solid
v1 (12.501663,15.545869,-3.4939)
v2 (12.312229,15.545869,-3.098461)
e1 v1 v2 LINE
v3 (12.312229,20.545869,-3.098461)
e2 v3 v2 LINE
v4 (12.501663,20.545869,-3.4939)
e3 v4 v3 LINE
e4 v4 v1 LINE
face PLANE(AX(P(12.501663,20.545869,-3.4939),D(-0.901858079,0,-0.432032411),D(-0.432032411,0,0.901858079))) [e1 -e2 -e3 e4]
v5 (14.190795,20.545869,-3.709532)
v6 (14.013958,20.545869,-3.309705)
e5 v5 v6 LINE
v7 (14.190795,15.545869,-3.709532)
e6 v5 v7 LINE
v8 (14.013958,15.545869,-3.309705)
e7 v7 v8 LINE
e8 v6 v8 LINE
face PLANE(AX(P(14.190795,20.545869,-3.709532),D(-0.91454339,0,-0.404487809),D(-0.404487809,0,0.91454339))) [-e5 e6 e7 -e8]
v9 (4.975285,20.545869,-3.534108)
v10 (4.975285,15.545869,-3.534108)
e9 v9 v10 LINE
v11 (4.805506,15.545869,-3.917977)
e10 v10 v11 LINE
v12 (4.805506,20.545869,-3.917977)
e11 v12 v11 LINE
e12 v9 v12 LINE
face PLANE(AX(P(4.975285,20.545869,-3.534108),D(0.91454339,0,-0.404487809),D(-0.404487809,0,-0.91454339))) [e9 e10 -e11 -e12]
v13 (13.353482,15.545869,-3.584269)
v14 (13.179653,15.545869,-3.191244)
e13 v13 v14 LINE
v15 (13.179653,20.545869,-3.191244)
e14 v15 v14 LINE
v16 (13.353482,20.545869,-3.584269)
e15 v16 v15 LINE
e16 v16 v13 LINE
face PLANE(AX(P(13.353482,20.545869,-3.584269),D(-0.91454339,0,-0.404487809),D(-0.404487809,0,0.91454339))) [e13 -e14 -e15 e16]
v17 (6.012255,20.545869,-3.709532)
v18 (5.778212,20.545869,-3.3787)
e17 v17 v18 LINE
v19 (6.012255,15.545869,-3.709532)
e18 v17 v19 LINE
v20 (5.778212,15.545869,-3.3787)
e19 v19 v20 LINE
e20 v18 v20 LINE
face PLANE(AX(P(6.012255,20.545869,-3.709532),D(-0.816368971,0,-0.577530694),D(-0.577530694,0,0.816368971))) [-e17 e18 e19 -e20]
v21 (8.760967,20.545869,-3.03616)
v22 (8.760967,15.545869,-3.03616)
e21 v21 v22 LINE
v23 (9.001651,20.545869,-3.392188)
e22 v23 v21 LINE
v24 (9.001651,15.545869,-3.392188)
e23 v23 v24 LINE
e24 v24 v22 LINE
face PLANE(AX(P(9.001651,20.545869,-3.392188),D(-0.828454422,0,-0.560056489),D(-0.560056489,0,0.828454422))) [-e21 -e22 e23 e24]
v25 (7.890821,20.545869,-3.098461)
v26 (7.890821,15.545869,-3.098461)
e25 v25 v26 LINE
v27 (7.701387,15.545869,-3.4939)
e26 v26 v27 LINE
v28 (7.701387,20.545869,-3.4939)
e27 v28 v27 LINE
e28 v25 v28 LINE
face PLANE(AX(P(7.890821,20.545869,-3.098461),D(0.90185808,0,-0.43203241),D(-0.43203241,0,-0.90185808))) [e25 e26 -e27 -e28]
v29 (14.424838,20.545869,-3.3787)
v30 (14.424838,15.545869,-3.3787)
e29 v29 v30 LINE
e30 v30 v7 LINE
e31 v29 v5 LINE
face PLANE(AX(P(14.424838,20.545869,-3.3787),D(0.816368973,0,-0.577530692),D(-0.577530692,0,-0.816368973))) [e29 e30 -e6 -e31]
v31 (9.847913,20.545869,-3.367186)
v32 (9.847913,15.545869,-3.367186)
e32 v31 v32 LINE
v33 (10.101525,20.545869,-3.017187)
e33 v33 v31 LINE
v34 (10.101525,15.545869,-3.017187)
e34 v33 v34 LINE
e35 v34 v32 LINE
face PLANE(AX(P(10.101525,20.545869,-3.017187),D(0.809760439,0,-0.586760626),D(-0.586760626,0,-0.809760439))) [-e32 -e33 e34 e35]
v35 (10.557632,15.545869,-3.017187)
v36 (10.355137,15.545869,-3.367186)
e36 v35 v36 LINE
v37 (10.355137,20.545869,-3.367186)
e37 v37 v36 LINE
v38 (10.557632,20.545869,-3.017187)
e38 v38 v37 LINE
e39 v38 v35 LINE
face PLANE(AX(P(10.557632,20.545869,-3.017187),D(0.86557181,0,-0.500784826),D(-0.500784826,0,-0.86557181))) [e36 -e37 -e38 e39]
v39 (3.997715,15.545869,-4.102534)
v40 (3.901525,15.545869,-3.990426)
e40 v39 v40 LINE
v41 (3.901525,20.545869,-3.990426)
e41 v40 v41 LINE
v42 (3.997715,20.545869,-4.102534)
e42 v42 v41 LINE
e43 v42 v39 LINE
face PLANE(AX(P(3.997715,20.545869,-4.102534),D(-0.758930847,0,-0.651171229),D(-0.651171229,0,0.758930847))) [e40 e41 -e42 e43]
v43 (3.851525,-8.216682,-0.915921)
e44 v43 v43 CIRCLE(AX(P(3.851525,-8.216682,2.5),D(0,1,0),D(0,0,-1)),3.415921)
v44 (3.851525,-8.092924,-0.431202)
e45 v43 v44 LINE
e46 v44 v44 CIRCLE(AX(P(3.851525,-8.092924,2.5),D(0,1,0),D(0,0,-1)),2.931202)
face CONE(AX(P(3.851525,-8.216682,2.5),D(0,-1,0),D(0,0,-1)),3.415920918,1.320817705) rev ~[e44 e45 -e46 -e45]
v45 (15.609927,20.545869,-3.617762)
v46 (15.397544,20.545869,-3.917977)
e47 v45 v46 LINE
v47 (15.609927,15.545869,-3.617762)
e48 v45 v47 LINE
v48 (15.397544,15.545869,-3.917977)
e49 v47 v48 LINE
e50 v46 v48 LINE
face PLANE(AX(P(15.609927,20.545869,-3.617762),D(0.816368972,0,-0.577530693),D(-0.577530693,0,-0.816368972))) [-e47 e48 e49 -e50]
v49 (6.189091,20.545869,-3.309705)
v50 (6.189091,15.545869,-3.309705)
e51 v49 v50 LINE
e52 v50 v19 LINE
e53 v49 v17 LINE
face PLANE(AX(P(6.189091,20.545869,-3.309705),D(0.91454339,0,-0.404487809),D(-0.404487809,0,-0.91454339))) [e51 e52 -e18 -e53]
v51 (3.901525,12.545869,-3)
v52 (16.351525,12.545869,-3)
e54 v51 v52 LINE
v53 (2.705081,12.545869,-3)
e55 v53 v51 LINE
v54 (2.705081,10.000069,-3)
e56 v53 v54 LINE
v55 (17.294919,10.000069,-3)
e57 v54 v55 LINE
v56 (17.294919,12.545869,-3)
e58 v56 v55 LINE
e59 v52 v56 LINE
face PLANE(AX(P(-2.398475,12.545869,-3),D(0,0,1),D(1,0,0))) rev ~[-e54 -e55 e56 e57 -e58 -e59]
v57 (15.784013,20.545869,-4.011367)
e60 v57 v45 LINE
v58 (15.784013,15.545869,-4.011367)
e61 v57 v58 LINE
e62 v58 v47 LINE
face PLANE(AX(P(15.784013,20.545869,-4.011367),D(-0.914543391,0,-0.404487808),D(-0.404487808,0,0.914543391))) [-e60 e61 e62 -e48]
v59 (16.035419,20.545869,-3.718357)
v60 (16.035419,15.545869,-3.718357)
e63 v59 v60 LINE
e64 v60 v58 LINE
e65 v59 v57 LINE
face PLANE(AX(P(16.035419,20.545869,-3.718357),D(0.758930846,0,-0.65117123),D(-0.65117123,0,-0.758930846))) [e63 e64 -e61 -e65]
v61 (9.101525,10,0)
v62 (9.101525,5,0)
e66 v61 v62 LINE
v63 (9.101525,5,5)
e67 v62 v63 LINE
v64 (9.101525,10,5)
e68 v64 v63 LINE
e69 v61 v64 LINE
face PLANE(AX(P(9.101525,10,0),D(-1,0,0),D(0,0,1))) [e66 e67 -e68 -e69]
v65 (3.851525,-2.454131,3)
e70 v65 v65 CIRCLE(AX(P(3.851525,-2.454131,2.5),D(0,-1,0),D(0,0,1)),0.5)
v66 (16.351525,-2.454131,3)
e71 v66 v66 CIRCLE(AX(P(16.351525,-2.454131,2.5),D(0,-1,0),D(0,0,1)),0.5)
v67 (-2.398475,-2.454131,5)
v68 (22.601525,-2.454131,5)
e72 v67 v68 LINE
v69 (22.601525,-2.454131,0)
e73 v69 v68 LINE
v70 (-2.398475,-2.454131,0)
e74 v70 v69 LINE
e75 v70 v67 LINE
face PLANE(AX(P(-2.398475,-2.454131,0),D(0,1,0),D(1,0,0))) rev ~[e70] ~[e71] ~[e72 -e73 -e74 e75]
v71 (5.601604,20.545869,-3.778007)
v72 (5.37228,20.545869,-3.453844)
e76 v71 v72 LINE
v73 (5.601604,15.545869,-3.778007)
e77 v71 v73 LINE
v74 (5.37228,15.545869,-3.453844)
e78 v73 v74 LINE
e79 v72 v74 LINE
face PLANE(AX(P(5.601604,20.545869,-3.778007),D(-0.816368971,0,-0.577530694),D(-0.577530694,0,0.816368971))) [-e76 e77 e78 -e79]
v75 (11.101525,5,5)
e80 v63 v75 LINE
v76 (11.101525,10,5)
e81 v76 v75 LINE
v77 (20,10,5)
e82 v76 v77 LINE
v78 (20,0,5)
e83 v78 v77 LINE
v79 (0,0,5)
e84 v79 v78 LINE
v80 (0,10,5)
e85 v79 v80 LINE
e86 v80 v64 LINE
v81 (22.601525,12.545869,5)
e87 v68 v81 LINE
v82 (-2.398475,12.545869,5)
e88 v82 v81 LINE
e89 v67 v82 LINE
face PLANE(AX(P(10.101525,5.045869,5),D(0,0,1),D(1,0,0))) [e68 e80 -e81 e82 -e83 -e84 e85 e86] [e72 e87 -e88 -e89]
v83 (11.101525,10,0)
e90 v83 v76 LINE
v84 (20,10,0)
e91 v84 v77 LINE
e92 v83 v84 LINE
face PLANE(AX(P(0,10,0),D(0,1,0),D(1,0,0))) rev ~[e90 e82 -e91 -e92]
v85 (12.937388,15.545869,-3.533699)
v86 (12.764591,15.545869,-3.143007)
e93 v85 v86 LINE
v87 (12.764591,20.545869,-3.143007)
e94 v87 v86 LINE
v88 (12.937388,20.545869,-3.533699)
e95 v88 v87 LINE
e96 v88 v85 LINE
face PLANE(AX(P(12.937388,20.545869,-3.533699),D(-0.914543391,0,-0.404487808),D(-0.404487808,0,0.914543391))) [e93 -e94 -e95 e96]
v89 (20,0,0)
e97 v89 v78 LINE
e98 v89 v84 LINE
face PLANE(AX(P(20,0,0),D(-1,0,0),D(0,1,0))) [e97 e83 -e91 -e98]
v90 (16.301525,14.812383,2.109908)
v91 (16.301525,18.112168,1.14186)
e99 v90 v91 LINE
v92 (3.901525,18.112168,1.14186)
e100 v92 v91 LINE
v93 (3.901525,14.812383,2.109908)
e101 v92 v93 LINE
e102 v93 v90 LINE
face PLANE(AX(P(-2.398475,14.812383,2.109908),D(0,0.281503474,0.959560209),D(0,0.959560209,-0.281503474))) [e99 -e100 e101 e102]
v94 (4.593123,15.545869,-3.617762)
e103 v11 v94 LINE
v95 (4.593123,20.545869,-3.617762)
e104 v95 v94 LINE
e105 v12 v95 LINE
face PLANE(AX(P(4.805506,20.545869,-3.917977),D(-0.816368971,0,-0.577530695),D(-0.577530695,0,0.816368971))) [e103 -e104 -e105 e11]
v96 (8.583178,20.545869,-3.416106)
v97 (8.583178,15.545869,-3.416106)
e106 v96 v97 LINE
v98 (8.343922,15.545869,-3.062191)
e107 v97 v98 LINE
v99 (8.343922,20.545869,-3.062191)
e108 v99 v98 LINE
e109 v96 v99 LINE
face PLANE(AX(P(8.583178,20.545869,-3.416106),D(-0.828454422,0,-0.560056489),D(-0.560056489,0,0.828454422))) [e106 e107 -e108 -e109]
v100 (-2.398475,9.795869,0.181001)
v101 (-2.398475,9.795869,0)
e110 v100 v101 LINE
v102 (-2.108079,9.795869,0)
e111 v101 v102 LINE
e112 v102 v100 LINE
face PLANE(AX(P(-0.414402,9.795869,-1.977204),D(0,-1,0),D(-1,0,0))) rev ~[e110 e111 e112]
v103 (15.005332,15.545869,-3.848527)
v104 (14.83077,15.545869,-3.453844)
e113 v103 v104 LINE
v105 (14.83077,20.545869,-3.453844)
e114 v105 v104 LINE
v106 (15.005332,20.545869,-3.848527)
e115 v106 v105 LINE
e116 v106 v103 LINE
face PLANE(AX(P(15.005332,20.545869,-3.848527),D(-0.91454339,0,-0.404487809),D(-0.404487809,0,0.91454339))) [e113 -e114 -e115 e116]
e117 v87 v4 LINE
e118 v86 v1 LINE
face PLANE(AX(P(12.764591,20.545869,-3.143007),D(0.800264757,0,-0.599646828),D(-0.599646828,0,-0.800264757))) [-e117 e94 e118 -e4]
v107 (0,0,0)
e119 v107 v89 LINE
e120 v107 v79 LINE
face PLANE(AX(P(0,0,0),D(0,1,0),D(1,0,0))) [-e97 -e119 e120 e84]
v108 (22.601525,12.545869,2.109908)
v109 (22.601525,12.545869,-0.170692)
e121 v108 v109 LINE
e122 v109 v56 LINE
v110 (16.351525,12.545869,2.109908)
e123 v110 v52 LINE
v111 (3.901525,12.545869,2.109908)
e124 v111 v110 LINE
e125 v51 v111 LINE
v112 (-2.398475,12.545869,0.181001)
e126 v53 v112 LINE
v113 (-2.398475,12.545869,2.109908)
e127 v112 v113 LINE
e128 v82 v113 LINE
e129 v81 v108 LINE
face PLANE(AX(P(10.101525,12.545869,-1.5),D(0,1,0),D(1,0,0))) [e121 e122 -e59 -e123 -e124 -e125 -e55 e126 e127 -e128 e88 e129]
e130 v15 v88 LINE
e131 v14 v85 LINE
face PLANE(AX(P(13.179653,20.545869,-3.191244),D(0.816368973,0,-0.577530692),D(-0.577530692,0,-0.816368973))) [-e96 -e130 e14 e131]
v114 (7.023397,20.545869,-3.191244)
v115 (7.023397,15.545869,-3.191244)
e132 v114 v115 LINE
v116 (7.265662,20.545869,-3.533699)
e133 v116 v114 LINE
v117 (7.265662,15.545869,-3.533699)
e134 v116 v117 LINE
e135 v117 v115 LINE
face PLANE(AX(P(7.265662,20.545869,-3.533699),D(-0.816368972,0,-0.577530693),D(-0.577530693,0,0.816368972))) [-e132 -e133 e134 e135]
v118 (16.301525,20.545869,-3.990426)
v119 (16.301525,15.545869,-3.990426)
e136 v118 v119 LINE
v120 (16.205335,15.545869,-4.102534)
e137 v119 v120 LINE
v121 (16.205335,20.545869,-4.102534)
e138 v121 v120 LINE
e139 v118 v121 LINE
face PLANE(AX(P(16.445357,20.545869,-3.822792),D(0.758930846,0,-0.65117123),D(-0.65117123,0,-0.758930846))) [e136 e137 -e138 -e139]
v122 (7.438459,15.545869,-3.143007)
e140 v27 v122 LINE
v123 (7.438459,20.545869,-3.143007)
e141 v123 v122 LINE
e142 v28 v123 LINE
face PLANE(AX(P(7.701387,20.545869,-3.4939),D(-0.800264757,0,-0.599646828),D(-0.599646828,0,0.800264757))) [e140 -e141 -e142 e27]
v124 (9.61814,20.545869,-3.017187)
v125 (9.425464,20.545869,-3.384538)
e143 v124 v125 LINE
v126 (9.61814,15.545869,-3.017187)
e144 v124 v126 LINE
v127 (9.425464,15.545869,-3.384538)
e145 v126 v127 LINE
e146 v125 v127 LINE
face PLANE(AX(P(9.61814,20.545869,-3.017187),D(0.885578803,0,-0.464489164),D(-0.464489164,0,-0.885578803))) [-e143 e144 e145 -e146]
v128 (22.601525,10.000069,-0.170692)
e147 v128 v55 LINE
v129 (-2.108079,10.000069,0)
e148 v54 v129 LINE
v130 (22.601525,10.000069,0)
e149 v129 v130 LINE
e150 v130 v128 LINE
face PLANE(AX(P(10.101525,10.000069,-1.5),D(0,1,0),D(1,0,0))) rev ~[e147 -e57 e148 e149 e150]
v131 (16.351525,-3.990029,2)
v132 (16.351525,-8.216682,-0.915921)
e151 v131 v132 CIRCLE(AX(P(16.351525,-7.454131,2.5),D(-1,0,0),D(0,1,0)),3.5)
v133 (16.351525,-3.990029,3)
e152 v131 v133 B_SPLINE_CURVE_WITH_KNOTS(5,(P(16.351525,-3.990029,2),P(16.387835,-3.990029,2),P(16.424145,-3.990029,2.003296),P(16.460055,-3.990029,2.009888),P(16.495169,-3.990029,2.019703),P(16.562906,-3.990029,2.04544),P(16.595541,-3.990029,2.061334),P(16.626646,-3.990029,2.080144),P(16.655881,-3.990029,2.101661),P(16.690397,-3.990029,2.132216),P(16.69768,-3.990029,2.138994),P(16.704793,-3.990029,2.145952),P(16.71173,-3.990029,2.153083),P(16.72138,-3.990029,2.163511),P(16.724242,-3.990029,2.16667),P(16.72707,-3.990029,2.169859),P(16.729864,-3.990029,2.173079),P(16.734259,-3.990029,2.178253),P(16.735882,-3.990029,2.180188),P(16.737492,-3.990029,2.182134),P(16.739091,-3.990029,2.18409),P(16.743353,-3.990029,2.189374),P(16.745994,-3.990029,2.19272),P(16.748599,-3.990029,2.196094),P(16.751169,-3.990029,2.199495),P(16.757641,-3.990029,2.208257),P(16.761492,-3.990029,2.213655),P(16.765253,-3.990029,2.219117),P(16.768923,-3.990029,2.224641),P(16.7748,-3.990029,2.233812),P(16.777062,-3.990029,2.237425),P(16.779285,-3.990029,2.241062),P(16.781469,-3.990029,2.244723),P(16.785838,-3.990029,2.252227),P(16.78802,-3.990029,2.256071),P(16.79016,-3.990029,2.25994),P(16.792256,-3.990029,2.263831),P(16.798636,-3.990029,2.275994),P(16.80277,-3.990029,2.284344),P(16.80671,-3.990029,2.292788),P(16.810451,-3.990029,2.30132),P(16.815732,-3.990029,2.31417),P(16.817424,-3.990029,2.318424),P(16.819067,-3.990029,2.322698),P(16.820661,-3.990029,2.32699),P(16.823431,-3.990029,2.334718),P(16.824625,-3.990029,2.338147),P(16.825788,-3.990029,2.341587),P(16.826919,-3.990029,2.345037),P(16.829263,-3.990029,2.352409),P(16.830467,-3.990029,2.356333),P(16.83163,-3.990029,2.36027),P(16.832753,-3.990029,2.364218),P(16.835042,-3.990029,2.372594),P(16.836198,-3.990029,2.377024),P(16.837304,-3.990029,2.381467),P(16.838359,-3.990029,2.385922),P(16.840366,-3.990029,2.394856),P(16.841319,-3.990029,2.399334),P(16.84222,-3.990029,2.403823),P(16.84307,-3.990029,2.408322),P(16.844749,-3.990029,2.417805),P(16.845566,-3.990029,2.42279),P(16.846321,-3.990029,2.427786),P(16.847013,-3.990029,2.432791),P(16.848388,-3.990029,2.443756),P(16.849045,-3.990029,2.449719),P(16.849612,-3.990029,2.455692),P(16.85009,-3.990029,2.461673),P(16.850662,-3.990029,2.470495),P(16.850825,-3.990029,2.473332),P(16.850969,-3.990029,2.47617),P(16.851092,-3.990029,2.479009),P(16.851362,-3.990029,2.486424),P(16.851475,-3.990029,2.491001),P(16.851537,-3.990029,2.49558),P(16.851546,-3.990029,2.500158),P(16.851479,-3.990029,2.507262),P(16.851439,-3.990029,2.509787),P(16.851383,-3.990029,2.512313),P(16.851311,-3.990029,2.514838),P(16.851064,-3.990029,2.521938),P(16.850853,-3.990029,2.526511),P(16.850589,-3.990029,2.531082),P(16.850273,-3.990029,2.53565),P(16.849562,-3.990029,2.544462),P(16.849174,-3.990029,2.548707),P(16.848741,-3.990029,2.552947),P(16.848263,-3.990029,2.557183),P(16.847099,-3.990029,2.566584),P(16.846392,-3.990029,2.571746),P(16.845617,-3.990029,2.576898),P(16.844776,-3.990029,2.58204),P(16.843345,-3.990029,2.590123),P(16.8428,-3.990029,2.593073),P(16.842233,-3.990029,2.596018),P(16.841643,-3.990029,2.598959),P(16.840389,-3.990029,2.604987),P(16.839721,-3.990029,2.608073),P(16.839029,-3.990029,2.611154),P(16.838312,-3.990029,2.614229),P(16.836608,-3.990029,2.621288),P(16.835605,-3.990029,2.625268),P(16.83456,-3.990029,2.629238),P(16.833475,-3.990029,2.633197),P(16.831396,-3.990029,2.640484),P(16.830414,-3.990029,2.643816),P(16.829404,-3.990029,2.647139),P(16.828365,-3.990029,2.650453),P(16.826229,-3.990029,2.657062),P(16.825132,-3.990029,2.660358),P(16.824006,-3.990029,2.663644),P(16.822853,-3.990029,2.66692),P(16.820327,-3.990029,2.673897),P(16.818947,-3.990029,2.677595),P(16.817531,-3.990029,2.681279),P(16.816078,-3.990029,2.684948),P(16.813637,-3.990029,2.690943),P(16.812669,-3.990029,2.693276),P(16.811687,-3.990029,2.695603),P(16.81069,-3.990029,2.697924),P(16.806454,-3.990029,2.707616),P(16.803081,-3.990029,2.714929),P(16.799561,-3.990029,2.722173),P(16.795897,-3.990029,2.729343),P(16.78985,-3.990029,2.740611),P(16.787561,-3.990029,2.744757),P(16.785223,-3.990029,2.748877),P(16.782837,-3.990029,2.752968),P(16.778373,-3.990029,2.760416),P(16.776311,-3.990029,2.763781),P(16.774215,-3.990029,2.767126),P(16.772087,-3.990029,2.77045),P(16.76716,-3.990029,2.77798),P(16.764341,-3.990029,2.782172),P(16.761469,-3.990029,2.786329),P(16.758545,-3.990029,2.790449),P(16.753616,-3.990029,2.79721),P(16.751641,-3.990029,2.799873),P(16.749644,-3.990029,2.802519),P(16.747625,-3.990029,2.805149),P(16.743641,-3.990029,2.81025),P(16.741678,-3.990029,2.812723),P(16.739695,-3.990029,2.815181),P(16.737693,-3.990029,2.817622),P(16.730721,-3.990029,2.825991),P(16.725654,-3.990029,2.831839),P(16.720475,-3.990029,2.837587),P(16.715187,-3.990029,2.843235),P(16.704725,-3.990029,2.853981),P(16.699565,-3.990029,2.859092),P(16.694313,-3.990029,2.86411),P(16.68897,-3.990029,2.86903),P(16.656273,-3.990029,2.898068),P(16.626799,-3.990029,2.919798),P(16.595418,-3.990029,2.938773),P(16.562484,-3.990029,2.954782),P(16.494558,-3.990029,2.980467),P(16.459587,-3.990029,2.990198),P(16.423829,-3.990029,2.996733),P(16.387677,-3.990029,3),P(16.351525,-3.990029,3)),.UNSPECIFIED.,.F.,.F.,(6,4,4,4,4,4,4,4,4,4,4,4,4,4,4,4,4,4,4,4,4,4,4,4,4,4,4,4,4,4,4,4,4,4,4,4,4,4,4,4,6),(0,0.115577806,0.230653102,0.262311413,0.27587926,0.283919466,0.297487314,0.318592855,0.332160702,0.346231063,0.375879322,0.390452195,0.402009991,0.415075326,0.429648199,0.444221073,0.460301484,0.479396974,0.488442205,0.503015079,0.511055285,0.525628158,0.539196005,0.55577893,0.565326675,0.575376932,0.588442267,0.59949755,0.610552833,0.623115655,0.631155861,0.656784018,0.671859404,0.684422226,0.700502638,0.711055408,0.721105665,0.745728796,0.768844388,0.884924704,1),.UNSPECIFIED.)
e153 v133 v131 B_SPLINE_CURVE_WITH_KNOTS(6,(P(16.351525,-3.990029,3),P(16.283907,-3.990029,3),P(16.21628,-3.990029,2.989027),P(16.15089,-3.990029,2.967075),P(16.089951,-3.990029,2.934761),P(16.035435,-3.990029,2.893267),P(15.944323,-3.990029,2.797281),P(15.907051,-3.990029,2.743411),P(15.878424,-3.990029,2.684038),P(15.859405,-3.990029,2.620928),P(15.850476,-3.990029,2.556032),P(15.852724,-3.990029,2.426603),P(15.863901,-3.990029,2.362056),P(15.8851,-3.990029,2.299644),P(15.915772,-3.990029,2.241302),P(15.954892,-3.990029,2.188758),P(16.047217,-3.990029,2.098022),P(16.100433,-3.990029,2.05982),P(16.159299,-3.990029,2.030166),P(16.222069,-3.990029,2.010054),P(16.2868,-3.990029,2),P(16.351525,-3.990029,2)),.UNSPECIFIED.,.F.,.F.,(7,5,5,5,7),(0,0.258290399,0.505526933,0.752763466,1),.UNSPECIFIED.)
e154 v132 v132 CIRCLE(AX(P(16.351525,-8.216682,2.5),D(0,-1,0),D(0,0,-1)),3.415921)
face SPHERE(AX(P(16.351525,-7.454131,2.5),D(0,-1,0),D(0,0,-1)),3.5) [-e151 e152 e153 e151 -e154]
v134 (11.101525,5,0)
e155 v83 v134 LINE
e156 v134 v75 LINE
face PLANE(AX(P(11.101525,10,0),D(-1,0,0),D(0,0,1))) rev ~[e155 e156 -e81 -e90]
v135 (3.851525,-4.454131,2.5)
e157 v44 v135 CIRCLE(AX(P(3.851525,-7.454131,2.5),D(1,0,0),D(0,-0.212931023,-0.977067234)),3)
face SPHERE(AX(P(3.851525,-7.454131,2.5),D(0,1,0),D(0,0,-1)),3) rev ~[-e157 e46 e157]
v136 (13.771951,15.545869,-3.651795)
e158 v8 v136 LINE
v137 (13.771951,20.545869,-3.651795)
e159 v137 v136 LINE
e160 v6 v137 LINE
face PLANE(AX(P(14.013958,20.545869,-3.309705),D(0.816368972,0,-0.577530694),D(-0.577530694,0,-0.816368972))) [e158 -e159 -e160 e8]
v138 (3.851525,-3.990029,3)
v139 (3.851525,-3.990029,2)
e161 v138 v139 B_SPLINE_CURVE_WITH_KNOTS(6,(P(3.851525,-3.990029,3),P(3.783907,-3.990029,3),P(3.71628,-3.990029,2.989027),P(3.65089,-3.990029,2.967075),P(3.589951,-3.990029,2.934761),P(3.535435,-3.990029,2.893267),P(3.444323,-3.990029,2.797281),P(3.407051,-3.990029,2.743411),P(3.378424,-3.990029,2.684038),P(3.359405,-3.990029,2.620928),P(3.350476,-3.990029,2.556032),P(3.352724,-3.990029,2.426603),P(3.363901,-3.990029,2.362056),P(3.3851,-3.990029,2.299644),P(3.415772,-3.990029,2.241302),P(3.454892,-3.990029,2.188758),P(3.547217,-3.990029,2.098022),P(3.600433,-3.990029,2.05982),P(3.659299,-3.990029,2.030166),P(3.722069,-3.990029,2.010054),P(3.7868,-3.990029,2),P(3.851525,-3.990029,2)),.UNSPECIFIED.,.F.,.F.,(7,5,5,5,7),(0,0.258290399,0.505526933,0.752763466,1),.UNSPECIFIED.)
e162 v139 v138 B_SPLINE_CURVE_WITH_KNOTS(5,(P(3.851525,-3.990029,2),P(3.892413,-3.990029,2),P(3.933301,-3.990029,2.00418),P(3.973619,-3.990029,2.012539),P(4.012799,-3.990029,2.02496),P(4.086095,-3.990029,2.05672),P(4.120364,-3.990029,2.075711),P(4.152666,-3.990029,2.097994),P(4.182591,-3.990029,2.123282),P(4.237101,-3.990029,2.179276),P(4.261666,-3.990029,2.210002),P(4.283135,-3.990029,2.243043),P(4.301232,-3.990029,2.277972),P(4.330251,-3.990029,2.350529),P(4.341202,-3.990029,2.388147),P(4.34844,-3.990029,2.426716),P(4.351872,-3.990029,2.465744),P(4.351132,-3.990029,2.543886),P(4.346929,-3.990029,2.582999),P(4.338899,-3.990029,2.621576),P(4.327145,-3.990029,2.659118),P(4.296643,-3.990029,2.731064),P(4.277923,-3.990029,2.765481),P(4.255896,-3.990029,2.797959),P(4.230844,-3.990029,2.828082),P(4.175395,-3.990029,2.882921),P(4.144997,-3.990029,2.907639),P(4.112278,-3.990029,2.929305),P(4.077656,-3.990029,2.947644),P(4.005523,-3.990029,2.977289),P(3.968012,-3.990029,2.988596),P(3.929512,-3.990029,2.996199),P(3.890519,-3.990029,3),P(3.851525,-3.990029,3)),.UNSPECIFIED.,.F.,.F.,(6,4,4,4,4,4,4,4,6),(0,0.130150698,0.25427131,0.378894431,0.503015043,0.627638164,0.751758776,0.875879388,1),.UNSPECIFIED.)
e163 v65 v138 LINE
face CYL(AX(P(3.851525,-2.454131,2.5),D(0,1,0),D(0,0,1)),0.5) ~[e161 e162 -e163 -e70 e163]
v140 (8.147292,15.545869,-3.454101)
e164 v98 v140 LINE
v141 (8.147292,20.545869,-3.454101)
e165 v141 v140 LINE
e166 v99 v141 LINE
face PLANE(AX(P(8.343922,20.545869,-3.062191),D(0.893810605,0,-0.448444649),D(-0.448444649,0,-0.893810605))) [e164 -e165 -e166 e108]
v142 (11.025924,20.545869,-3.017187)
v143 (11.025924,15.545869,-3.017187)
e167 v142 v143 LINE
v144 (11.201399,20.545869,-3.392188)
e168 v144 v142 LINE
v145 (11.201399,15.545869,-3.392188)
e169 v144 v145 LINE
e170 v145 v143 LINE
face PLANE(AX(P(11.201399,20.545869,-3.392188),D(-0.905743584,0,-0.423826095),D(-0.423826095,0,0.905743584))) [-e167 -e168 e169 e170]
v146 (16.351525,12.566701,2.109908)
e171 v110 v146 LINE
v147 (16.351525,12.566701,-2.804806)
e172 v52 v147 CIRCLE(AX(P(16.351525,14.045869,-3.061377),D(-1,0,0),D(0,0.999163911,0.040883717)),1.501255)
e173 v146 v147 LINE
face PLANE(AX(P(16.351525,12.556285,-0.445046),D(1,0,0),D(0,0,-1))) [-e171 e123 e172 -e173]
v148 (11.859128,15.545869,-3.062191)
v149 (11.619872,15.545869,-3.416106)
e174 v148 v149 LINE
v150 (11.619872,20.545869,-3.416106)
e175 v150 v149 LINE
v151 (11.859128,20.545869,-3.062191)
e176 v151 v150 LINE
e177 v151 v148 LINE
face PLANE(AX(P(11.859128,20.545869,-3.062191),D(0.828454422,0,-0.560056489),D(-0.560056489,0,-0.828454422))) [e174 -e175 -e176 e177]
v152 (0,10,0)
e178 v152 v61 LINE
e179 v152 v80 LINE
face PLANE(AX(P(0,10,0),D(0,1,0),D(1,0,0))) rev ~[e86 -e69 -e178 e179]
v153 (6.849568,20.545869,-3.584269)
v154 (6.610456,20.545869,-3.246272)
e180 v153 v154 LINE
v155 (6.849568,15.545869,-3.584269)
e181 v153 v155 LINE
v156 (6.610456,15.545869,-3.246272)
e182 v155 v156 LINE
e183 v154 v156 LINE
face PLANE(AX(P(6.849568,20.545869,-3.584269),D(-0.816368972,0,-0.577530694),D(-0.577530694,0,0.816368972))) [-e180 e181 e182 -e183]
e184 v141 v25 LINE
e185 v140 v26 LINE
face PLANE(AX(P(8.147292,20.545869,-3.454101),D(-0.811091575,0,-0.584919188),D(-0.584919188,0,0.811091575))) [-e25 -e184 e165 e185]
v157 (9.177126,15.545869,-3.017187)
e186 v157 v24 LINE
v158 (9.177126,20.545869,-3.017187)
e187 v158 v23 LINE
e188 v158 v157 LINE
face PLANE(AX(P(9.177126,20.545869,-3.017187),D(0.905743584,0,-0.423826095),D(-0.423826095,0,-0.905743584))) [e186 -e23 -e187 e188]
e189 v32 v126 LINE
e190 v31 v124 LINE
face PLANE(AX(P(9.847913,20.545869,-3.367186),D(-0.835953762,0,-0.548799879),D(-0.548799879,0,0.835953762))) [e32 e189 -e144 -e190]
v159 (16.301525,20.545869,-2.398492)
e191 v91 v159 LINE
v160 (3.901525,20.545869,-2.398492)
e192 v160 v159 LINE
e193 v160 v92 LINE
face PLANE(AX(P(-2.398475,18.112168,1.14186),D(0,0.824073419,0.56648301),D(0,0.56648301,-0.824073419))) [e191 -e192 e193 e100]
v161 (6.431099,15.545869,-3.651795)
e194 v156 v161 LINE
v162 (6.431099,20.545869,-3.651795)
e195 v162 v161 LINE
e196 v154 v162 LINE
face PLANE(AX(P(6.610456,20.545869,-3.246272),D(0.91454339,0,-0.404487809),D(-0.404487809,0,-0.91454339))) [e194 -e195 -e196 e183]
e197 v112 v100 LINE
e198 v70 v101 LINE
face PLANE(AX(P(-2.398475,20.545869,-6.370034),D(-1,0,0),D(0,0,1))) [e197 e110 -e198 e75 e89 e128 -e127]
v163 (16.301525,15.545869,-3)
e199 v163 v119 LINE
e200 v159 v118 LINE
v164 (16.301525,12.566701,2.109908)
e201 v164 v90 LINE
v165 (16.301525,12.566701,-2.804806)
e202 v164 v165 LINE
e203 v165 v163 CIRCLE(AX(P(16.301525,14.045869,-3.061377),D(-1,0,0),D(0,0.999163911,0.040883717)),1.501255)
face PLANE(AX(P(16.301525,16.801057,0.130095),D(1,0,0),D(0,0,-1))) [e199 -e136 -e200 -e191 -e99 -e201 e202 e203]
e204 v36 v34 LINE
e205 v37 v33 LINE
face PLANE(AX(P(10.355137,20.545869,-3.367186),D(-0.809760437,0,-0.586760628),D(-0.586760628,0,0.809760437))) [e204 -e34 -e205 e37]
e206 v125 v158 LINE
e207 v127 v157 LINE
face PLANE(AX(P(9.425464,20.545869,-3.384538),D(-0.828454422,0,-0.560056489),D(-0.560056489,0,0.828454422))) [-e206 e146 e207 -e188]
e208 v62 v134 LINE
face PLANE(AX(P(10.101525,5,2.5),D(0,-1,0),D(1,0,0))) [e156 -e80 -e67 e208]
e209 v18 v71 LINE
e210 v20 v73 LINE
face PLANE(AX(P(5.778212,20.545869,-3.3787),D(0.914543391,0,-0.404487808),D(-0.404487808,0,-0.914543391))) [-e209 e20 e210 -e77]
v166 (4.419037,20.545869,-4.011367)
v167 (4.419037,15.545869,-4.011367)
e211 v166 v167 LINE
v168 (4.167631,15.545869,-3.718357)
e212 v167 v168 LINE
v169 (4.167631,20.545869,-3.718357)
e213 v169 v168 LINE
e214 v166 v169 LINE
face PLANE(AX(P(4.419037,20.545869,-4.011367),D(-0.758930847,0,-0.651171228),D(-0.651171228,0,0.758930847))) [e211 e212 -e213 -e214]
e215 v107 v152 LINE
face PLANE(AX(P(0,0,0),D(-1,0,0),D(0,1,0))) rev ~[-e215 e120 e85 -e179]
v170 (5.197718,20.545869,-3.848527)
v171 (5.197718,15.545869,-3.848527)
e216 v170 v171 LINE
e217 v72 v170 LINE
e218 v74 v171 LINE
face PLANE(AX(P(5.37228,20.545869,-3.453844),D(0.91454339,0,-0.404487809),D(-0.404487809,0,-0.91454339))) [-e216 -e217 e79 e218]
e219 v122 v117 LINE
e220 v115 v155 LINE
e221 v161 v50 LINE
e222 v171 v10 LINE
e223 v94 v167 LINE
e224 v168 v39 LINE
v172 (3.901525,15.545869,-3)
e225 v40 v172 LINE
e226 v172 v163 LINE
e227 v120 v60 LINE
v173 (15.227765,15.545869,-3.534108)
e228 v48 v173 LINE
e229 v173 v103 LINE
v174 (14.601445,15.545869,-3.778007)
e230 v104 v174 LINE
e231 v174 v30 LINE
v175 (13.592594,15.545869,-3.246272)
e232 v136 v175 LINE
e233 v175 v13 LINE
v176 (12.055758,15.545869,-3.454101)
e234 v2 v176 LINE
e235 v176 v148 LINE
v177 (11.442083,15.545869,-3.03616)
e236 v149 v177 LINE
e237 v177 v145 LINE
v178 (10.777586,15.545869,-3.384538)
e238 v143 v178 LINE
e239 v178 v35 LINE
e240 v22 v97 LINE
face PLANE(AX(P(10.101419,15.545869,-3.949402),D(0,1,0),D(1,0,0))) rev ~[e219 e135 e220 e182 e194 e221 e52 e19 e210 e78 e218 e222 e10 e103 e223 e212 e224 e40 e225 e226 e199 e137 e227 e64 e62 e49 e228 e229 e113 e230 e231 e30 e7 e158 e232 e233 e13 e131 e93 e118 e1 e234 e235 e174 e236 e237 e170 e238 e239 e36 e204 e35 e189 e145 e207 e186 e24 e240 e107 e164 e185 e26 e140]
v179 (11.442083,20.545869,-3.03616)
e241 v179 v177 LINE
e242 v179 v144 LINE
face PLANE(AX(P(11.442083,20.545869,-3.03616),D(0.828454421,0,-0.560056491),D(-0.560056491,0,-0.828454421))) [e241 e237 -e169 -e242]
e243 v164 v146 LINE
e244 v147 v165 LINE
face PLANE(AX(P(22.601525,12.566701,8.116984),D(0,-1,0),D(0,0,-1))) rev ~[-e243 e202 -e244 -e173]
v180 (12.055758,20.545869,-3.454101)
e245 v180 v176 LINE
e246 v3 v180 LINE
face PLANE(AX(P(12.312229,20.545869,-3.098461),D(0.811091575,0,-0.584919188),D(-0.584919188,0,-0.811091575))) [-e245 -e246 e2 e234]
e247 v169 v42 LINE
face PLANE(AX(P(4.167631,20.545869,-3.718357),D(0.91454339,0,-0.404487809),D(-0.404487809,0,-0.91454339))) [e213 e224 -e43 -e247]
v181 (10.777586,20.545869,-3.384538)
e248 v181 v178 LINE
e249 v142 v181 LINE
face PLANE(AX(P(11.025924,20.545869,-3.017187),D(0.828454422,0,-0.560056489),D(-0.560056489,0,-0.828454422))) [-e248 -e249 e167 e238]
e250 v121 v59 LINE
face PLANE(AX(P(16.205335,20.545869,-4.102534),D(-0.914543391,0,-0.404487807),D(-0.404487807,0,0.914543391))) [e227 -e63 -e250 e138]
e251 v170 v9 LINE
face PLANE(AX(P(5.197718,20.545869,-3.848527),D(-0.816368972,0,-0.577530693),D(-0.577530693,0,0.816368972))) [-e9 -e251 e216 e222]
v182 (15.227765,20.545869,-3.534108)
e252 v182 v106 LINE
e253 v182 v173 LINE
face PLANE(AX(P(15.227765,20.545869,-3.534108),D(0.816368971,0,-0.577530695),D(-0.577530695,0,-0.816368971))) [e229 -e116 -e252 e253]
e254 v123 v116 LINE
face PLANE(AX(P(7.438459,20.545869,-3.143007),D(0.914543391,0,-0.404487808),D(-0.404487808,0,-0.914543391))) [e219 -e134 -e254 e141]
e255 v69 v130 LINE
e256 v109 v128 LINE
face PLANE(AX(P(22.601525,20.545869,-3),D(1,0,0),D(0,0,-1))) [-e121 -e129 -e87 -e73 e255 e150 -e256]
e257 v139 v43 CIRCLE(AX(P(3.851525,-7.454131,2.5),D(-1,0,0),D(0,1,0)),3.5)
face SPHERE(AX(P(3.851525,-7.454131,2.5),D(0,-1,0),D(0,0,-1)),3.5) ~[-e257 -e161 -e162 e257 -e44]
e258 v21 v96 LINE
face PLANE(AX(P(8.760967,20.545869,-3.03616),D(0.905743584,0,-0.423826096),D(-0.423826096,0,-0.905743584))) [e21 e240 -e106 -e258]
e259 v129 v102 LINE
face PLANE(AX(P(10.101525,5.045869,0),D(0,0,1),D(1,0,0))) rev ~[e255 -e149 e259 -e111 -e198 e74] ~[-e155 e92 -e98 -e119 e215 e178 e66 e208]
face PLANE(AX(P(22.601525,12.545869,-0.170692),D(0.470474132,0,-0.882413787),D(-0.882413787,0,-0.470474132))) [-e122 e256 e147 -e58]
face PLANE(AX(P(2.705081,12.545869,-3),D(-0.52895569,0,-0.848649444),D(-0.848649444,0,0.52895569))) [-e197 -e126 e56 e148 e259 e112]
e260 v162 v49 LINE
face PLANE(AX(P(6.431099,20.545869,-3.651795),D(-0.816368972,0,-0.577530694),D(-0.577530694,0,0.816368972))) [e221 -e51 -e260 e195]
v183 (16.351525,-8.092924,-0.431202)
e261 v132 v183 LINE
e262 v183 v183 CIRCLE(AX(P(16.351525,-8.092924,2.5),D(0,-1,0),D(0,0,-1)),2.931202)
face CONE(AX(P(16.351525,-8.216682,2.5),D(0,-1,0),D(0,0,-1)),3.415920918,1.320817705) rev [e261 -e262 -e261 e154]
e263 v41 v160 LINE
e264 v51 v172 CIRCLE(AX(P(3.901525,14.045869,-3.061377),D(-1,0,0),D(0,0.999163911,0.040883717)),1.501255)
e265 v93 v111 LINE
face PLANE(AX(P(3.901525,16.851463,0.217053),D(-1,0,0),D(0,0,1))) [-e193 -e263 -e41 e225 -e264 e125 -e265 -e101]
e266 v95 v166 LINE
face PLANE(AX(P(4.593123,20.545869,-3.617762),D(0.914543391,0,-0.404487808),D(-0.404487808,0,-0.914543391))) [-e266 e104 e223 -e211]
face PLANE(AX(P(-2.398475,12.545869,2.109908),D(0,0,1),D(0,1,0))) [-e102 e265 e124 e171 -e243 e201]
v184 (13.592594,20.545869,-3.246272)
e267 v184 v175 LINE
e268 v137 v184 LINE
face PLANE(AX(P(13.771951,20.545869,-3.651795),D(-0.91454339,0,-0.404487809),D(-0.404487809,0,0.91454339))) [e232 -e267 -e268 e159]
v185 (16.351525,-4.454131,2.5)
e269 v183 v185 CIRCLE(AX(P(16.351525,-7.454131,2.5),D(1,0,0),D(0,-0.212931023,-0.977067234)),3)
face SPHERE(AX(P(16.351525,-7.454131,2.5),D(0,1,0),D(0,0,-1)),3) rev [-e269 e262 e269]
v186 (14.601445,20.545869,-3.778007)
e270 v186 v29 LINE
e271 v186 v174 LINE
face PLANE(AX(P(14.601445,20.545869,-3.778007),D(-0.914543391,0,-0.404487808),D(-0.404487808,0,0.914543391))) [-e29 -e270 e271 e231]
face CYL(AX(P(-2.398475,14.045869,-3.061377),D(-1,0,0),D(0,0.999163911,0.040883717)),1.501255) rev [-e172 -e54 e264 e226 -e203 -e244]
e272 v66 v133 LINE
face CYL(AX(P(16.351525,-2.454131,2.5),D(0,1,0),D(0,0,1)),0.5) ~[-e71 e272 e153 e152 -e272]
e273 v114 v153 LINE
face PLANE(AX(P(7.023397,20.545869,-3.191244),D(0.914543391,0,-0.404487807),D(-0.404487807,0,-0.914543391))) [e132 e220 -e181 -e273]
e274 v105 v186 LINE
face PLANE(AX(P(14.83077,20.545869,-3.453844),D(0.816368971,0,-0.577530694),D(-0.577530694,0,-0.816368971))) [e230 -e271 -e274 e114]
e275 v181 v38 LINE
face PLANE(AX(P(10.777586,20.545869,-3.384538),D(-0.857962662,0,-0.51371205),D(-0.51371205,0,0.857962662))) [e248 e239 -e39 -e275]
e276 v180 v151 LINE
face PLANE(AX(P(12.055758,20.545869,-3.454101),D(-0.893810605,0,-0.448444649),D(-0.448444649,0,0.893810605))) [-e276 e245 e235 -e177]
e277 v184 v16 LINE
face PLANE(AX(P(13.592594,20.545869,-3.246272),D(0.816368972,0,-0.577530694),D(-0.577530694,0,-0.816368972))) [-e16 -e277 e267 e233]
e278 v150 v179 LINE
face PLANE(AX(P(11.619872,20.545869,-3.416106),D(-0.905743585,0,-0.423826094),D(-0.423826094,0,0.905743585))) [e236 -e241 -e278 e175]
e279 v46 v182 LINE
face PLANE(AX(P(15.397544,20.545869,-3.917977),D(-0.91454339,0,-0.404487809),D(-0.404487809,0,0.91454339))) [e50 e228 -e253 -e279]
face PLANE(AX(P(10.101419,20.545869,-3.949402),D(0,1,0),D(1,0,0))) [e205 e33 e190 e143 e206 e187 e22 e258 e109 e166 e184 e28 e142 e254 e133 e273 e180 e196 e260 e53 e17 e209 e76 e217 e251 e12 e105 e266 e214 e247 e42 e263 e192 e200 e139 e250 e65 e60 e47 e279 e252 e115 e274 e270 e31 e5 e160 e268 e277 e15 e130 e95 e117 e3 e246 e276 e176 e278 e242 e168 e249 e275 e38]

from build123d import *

# Parameters (mm, degrees)
SKETCH1_W            = 25
SKETCH1_H            = 15
SKETCH1_W_2          = 20
SKETCH1_H_2          = 10
BOSS_EXTRUDE1_DEPTH  = 5
SKETCH2_R            = 0.5
BOSS_EXTRUDE2_DEPTH  = 2
SKETCH5_W            = 2
SKETCH5_H            = 5
BOSS_EXTRUDE3_DEPTH  = 5
SKETCH9_W            = 25
SKETCH9_H            = 3
BOSS_EXTRUDE6_DEPTH  = 2.5458
BOSS_EXTRUDE11_DEPTH = 25
BOSS_EXTRUDE12_DEPTH = 5
SKETCH13_W           = 15.672382287
SKETCH13_H           = 8.611187453
CUT_EXTRUDE2_DEPTH   = 6.3
SKETCH14_W           = 15.973777952
SKETCH14_H           = 8.468711573
CUT_EXTRUDE4_DEPTH   = 6.3
SKETCH17_W           = 5.109908143
SKETCH17_H           = 0.020831831
CUT_EXTRUDE6_DEPTH   = 6.25
CUT_EXTRUDE9_DEPTH   = 2.75


with BuildPart() as part:
    # Sketch1 → Boss-Extrude1 (new body)
    with BuildSketch(Plane.XY):
        with Locations((10.101524963, 5.045869423)):
            Rectangle(SKETCH1_W, SKETCH1_H)
        with Locations((10, 5)):
            Rectangle(SKETCH1_W_2, SKETCH1_H_2, mode=Mode.SUBTRACT)
    extrude(amount=BOSS_EXTRUDE1_DEPTH)

    # Sketch2 → Boss-Extrude2 (add)
    with BuildSketch(Plane.XZ.offset(2.454130577)):
        with Locations(Location((16.351524963, 2.5, 0), (0, 0, 90))):
            Circle(SKETCH2_R)
        with Locations(Location((3.851524963, 2.5, 0), (0, 0, 90))):
            Circle(SKETCH2_R)
    extrude(amount=BOSS_EXTRUDE2_DEPTH)

    # Sketch4 → Revolve1 (revolve)
    with BuildSketch(Plane.ZY.offset(-3.851524963)):
        with BuildLine():
            Line((2.5, -4.454130577), (2.5, -3.954130577))
            ThreePointArc((2.5, -3.954130577), (-0.231202032, -5.265401389), (-0.915920918, -8.216681744))
            Line((-0.915920918, -8.216681744), (-0.431201702, -8.092923646))
            ThreePointArc((-0.431201702, -8.092923646), (0.163723132, -5.572160759), (2.5, -4.454130577))
        make_face()
    revolve1 = revolve(axis=Axis((3.851524963, -4.454130577, 2.5), (0, 1, 0)))

    # Mirror1: Revolve1 across plane
    add(revolve1.mirror(Plane.ZY.offset(-10.101524963)))

    # Sketch5 → Boss-Extrude3 (add)
    with BuildSketch(Plane.XZ.offset(-10)):
        with Locations((10.101524963, 2.5)):
            Rectangle(SKETCH5_W, SKETCH5_H)
    extrude(amount=BOSS_EXTRUDE3_DEPTH)

    # Sketch9 → Boss-Extrude6 (add)
    with BuildSketch(Plane(origin=(0, 12.545869423, 0), x_dir=(1, 0, 0), z_dir=(0, 1, 0))):
        with Locations((10.101524963, 1.5)):
            Rectangle(SKETCH9_W, SKETCH9_H)
    extrude(amount=-BOSS_EXTRUDE6_DEPTH)

    # Sketch10 → Boss-Extrude11 (add)
    with BuildSketch(Plane.ZY.offset(2.398475037)):
        with BuildLine():
            Line((-3, 20.545869423), (-3, 15.545869423))
            ThreePointArc((-3, 15.545869423), (-1.560121709, 14.045869423), (-3, 12.545869423))
            Line((-3, 12.545869423), (2.109908143, 12.545869423))
            Line((2.109908143, 12.545869423), (2.109908143, 14.812382809))
            Line((2.109908143, 14.812382809), (1.14185951, 18.112167841))
            Line((1.14185951, 18.112167841), (-2.398491653, 20.545869423))
            Line((-2.398491653, 20.545869423), (-3, 20.545869423))
        make_face()
    extrude(amount=-BOSS_EXTRUDE11_DEPTH)

    # Sketch11 → Boss-Extrude12 (add)
    with BuildSketch(Plane(origin=(0, 20.545869423, 0), x_dir=(1, 0, 0), z_dir=(0, 1, 0))):
        Polygon((22.601524963, 6.370034263), (22.218498761, 6.583454581), (22.206504106, 6.145147118), (21.839800975, 6.36430085), (21.839800975, 5.944815365), (21.470908859, 6.165277305), (21.470908859, 5.751252067), (21.090285371, 5.978725057), (21.090285371, 5.559686479), (20.715009404, 5.783963617), (20.715009404, 5.37871548), (20.340220839, 5.60270133), (20.340220839, 5.205623066), (19.969772082, 5.427015305), (19.969772082, 5.041871154), (19.609473543, 5.257197293), (19.609473543, 4.889453606), (19.240036756, 5.110241059), (19.204018954, 4.725841041), (18.84343083, 4.941340245), (18.809044063, 4.574347447), (18.482899309, 4.833590643), (18.434301365, 4.437674053), (18.099284993, 4.703969045), (18.029565103, 4.297643206), (17.685889029, 4.570821549), (17.636576293, 4.169081713), (17.36430182, 4.468570031), (17.241504215, 4.047072227), (16.949921416, 4.338518658), (16.830217977, 3.927641452), (16.56189014, 4.222788666), (16.445356586, 3.82279196), (16.205334691, 4.102534079), (16.03541914, 3.718356506), (15.784012514, 4.011367368), (15.609927315, 3.617762258), (15.397544049, 3.917976793), (15.227764955, 3.53410775), (15.005332386, 3.848527484), (14.830770329, 3.453844203), (14.601445444, 3.778006576), (14.424838392, 3.378699578), (14.190795155, 3.709531583), (14.01395843, 3.309705298), (13.77195079, 3.65179539), (13.592594218, 3.246271753), (13.353481935, 3.584269111), (13.179653394, 3.191244304), (12.937387652, 3.533699238), (12.7645906, 3.143006617), (12.501662523, 3.493899949), (12.3122286, 3.098460835), (12.055758175, 3.454101418), (11.859127953, 3.062190893), (11.619872014, 3.416106336), (11.44208312, 3.03616005), (11.201398975, 3.392188142), (11.025924275, 3.017187439), (10.777585982, 3.384537806), (10.557631993, 3.017187439), (10.355137202, 3.367185629), (10.101524963, 3.017187439), (9.847912725, 3.367185629), (9.61814049, 3.017187439), (9.425463944, 3.384537806), (9.177125651, 3.017187439), (9.001650951, 3.392188142), (8.760966807, 3.03616005), (8.583177912, 3.416106336), (8.343921973, 3.062190893), (8.147291751, 3.454101418), (7.890821326, 3.098460835), (7.701387404, 3.493899949), (7.438459327, 3.143006617), (7.265662275, 3.533699238), (7.023396532, 3.191244304), (6.849567992, 3.584269111), (6.610455709, 3.246271753), (6.431099137, 3.65179539), (6.189091497, 3.309705298), (6.012254772, 3.709531583), (5.778211534, 3.378699578), (5.601604482, 3.778006576), (5.372279597, 3.453844203), (5.19771754, 3.848527484), (4.975284972, 3.53410775), (4.805505878, 3.917976793), (4.593122611, 3.617762258), (4.419037412, 4.011367368), (4.167630787, 3.718356506), (3.997715235, 4.102534079), (3.757693341, 3.82279196), (3.641159786, 4.222788666), (3.37283195, 3.927641452), (3.253128511, 4.338518658), (2.961545711, 4.047072227), (2.838748106, 4.468570031), (2.566473633, 4.169081713), (2.517160897, 4.570821549), (2.173484824, 4.297643206), (2.103764933, 4.703969045), (1.768748562, 4.437674053), (1.720150617, 4.833590643), (1.394005864, 4.574347447), (1.359619096, 4.941340245), (0.999030973, 4.725841041), (0.96301317, 5.110241059), (0.593576383, 4.889453606), (0.593576383, 5.257197293), (0.233277844, 5.041871154), (0.233277844, 5.427015305), (-0.137170912, 5.205623066), (-0.137170912, 5.60270133), (-0.511959477, 5.37871548), (-0.511959477, 5.783963617), (-0.887235445, 5.559686479), (-0.887235445, 5.978725057), (-1.267858932, 5.751252067), (-1.267858932, 6.165277305), (-1.636751048, 5.944815365), (-1.636751048, 6.36430085), (-2.00345418, 6.145147118), (-2.015448835, 6.583454581), (-2.398475037, 6.370034263), (-2.398475037, 3), (22.601524963, 3), align=None)
    extrude(amount=-BOSS_EXTRUDE12_DEPTH)

    # Sketch13 → Cut-Extrude2 (cut)
    with BuildSketch(Plane.ZY.offset(2.398475037)):
        with Locations((0.217053265, 16.85146315)):
            Rectangle(SKETCH13_W, SKETCH13_H)
    extrude(amount=-CUT_EXTRUDE2_DEPTH, mode=Mode.SUBTRACT)

    # Sketch14 → Cut-Extrude4 (cut)
    with BuildSketch(Plane(origin=(22.601524963, 0, 0), x_dir=(0, 0, -1), z_dir=(1, 0, 0))):
        with Locations((-0.130094813, 16.801057041)):
            Rectangle(SKETCH14_W, SKETCH14_H)
    extrude(amount=-CUT_EXTRUDE4_DEPTH, mode=Mode.SUBTRACT)

    # Sketch17 → Cut-Extrude6 (cut)
    with BuildSketch(Plane(origin=(22.601524963, 0, 0), x_dir=(0, 0, -1), z_dir=(1, 0, 0))):
        with Locations((0.445045928, 12.556285339)):
            Rectangle(SKETCH17_W, SKETCH17_H)
    extrude(amount=-CUT_EXTRUDE6_DEPTH, mode=Mode.SUBTRACT)

    # Sketch21 → Cut-Extrude9 (cut)
    with BuildSketch(Plane(origin=(0, 12.545869423, 0), x_dir=(1, 0, 0), z_dir=(0, 1, 0))):
        Polygon((-2.398475037, -0.181001123), (-2.398475037, 3), (2.705080675, 3), align=None)
        Polygon((17.294919325, 3), (22.601524963, 3), (22.601524963, 0.170691666), align=None)
    extrude(amount=-CUT_EXTRUDE9_DEPTH, mode=Mode.SUBTRACT)


solid = part.part
